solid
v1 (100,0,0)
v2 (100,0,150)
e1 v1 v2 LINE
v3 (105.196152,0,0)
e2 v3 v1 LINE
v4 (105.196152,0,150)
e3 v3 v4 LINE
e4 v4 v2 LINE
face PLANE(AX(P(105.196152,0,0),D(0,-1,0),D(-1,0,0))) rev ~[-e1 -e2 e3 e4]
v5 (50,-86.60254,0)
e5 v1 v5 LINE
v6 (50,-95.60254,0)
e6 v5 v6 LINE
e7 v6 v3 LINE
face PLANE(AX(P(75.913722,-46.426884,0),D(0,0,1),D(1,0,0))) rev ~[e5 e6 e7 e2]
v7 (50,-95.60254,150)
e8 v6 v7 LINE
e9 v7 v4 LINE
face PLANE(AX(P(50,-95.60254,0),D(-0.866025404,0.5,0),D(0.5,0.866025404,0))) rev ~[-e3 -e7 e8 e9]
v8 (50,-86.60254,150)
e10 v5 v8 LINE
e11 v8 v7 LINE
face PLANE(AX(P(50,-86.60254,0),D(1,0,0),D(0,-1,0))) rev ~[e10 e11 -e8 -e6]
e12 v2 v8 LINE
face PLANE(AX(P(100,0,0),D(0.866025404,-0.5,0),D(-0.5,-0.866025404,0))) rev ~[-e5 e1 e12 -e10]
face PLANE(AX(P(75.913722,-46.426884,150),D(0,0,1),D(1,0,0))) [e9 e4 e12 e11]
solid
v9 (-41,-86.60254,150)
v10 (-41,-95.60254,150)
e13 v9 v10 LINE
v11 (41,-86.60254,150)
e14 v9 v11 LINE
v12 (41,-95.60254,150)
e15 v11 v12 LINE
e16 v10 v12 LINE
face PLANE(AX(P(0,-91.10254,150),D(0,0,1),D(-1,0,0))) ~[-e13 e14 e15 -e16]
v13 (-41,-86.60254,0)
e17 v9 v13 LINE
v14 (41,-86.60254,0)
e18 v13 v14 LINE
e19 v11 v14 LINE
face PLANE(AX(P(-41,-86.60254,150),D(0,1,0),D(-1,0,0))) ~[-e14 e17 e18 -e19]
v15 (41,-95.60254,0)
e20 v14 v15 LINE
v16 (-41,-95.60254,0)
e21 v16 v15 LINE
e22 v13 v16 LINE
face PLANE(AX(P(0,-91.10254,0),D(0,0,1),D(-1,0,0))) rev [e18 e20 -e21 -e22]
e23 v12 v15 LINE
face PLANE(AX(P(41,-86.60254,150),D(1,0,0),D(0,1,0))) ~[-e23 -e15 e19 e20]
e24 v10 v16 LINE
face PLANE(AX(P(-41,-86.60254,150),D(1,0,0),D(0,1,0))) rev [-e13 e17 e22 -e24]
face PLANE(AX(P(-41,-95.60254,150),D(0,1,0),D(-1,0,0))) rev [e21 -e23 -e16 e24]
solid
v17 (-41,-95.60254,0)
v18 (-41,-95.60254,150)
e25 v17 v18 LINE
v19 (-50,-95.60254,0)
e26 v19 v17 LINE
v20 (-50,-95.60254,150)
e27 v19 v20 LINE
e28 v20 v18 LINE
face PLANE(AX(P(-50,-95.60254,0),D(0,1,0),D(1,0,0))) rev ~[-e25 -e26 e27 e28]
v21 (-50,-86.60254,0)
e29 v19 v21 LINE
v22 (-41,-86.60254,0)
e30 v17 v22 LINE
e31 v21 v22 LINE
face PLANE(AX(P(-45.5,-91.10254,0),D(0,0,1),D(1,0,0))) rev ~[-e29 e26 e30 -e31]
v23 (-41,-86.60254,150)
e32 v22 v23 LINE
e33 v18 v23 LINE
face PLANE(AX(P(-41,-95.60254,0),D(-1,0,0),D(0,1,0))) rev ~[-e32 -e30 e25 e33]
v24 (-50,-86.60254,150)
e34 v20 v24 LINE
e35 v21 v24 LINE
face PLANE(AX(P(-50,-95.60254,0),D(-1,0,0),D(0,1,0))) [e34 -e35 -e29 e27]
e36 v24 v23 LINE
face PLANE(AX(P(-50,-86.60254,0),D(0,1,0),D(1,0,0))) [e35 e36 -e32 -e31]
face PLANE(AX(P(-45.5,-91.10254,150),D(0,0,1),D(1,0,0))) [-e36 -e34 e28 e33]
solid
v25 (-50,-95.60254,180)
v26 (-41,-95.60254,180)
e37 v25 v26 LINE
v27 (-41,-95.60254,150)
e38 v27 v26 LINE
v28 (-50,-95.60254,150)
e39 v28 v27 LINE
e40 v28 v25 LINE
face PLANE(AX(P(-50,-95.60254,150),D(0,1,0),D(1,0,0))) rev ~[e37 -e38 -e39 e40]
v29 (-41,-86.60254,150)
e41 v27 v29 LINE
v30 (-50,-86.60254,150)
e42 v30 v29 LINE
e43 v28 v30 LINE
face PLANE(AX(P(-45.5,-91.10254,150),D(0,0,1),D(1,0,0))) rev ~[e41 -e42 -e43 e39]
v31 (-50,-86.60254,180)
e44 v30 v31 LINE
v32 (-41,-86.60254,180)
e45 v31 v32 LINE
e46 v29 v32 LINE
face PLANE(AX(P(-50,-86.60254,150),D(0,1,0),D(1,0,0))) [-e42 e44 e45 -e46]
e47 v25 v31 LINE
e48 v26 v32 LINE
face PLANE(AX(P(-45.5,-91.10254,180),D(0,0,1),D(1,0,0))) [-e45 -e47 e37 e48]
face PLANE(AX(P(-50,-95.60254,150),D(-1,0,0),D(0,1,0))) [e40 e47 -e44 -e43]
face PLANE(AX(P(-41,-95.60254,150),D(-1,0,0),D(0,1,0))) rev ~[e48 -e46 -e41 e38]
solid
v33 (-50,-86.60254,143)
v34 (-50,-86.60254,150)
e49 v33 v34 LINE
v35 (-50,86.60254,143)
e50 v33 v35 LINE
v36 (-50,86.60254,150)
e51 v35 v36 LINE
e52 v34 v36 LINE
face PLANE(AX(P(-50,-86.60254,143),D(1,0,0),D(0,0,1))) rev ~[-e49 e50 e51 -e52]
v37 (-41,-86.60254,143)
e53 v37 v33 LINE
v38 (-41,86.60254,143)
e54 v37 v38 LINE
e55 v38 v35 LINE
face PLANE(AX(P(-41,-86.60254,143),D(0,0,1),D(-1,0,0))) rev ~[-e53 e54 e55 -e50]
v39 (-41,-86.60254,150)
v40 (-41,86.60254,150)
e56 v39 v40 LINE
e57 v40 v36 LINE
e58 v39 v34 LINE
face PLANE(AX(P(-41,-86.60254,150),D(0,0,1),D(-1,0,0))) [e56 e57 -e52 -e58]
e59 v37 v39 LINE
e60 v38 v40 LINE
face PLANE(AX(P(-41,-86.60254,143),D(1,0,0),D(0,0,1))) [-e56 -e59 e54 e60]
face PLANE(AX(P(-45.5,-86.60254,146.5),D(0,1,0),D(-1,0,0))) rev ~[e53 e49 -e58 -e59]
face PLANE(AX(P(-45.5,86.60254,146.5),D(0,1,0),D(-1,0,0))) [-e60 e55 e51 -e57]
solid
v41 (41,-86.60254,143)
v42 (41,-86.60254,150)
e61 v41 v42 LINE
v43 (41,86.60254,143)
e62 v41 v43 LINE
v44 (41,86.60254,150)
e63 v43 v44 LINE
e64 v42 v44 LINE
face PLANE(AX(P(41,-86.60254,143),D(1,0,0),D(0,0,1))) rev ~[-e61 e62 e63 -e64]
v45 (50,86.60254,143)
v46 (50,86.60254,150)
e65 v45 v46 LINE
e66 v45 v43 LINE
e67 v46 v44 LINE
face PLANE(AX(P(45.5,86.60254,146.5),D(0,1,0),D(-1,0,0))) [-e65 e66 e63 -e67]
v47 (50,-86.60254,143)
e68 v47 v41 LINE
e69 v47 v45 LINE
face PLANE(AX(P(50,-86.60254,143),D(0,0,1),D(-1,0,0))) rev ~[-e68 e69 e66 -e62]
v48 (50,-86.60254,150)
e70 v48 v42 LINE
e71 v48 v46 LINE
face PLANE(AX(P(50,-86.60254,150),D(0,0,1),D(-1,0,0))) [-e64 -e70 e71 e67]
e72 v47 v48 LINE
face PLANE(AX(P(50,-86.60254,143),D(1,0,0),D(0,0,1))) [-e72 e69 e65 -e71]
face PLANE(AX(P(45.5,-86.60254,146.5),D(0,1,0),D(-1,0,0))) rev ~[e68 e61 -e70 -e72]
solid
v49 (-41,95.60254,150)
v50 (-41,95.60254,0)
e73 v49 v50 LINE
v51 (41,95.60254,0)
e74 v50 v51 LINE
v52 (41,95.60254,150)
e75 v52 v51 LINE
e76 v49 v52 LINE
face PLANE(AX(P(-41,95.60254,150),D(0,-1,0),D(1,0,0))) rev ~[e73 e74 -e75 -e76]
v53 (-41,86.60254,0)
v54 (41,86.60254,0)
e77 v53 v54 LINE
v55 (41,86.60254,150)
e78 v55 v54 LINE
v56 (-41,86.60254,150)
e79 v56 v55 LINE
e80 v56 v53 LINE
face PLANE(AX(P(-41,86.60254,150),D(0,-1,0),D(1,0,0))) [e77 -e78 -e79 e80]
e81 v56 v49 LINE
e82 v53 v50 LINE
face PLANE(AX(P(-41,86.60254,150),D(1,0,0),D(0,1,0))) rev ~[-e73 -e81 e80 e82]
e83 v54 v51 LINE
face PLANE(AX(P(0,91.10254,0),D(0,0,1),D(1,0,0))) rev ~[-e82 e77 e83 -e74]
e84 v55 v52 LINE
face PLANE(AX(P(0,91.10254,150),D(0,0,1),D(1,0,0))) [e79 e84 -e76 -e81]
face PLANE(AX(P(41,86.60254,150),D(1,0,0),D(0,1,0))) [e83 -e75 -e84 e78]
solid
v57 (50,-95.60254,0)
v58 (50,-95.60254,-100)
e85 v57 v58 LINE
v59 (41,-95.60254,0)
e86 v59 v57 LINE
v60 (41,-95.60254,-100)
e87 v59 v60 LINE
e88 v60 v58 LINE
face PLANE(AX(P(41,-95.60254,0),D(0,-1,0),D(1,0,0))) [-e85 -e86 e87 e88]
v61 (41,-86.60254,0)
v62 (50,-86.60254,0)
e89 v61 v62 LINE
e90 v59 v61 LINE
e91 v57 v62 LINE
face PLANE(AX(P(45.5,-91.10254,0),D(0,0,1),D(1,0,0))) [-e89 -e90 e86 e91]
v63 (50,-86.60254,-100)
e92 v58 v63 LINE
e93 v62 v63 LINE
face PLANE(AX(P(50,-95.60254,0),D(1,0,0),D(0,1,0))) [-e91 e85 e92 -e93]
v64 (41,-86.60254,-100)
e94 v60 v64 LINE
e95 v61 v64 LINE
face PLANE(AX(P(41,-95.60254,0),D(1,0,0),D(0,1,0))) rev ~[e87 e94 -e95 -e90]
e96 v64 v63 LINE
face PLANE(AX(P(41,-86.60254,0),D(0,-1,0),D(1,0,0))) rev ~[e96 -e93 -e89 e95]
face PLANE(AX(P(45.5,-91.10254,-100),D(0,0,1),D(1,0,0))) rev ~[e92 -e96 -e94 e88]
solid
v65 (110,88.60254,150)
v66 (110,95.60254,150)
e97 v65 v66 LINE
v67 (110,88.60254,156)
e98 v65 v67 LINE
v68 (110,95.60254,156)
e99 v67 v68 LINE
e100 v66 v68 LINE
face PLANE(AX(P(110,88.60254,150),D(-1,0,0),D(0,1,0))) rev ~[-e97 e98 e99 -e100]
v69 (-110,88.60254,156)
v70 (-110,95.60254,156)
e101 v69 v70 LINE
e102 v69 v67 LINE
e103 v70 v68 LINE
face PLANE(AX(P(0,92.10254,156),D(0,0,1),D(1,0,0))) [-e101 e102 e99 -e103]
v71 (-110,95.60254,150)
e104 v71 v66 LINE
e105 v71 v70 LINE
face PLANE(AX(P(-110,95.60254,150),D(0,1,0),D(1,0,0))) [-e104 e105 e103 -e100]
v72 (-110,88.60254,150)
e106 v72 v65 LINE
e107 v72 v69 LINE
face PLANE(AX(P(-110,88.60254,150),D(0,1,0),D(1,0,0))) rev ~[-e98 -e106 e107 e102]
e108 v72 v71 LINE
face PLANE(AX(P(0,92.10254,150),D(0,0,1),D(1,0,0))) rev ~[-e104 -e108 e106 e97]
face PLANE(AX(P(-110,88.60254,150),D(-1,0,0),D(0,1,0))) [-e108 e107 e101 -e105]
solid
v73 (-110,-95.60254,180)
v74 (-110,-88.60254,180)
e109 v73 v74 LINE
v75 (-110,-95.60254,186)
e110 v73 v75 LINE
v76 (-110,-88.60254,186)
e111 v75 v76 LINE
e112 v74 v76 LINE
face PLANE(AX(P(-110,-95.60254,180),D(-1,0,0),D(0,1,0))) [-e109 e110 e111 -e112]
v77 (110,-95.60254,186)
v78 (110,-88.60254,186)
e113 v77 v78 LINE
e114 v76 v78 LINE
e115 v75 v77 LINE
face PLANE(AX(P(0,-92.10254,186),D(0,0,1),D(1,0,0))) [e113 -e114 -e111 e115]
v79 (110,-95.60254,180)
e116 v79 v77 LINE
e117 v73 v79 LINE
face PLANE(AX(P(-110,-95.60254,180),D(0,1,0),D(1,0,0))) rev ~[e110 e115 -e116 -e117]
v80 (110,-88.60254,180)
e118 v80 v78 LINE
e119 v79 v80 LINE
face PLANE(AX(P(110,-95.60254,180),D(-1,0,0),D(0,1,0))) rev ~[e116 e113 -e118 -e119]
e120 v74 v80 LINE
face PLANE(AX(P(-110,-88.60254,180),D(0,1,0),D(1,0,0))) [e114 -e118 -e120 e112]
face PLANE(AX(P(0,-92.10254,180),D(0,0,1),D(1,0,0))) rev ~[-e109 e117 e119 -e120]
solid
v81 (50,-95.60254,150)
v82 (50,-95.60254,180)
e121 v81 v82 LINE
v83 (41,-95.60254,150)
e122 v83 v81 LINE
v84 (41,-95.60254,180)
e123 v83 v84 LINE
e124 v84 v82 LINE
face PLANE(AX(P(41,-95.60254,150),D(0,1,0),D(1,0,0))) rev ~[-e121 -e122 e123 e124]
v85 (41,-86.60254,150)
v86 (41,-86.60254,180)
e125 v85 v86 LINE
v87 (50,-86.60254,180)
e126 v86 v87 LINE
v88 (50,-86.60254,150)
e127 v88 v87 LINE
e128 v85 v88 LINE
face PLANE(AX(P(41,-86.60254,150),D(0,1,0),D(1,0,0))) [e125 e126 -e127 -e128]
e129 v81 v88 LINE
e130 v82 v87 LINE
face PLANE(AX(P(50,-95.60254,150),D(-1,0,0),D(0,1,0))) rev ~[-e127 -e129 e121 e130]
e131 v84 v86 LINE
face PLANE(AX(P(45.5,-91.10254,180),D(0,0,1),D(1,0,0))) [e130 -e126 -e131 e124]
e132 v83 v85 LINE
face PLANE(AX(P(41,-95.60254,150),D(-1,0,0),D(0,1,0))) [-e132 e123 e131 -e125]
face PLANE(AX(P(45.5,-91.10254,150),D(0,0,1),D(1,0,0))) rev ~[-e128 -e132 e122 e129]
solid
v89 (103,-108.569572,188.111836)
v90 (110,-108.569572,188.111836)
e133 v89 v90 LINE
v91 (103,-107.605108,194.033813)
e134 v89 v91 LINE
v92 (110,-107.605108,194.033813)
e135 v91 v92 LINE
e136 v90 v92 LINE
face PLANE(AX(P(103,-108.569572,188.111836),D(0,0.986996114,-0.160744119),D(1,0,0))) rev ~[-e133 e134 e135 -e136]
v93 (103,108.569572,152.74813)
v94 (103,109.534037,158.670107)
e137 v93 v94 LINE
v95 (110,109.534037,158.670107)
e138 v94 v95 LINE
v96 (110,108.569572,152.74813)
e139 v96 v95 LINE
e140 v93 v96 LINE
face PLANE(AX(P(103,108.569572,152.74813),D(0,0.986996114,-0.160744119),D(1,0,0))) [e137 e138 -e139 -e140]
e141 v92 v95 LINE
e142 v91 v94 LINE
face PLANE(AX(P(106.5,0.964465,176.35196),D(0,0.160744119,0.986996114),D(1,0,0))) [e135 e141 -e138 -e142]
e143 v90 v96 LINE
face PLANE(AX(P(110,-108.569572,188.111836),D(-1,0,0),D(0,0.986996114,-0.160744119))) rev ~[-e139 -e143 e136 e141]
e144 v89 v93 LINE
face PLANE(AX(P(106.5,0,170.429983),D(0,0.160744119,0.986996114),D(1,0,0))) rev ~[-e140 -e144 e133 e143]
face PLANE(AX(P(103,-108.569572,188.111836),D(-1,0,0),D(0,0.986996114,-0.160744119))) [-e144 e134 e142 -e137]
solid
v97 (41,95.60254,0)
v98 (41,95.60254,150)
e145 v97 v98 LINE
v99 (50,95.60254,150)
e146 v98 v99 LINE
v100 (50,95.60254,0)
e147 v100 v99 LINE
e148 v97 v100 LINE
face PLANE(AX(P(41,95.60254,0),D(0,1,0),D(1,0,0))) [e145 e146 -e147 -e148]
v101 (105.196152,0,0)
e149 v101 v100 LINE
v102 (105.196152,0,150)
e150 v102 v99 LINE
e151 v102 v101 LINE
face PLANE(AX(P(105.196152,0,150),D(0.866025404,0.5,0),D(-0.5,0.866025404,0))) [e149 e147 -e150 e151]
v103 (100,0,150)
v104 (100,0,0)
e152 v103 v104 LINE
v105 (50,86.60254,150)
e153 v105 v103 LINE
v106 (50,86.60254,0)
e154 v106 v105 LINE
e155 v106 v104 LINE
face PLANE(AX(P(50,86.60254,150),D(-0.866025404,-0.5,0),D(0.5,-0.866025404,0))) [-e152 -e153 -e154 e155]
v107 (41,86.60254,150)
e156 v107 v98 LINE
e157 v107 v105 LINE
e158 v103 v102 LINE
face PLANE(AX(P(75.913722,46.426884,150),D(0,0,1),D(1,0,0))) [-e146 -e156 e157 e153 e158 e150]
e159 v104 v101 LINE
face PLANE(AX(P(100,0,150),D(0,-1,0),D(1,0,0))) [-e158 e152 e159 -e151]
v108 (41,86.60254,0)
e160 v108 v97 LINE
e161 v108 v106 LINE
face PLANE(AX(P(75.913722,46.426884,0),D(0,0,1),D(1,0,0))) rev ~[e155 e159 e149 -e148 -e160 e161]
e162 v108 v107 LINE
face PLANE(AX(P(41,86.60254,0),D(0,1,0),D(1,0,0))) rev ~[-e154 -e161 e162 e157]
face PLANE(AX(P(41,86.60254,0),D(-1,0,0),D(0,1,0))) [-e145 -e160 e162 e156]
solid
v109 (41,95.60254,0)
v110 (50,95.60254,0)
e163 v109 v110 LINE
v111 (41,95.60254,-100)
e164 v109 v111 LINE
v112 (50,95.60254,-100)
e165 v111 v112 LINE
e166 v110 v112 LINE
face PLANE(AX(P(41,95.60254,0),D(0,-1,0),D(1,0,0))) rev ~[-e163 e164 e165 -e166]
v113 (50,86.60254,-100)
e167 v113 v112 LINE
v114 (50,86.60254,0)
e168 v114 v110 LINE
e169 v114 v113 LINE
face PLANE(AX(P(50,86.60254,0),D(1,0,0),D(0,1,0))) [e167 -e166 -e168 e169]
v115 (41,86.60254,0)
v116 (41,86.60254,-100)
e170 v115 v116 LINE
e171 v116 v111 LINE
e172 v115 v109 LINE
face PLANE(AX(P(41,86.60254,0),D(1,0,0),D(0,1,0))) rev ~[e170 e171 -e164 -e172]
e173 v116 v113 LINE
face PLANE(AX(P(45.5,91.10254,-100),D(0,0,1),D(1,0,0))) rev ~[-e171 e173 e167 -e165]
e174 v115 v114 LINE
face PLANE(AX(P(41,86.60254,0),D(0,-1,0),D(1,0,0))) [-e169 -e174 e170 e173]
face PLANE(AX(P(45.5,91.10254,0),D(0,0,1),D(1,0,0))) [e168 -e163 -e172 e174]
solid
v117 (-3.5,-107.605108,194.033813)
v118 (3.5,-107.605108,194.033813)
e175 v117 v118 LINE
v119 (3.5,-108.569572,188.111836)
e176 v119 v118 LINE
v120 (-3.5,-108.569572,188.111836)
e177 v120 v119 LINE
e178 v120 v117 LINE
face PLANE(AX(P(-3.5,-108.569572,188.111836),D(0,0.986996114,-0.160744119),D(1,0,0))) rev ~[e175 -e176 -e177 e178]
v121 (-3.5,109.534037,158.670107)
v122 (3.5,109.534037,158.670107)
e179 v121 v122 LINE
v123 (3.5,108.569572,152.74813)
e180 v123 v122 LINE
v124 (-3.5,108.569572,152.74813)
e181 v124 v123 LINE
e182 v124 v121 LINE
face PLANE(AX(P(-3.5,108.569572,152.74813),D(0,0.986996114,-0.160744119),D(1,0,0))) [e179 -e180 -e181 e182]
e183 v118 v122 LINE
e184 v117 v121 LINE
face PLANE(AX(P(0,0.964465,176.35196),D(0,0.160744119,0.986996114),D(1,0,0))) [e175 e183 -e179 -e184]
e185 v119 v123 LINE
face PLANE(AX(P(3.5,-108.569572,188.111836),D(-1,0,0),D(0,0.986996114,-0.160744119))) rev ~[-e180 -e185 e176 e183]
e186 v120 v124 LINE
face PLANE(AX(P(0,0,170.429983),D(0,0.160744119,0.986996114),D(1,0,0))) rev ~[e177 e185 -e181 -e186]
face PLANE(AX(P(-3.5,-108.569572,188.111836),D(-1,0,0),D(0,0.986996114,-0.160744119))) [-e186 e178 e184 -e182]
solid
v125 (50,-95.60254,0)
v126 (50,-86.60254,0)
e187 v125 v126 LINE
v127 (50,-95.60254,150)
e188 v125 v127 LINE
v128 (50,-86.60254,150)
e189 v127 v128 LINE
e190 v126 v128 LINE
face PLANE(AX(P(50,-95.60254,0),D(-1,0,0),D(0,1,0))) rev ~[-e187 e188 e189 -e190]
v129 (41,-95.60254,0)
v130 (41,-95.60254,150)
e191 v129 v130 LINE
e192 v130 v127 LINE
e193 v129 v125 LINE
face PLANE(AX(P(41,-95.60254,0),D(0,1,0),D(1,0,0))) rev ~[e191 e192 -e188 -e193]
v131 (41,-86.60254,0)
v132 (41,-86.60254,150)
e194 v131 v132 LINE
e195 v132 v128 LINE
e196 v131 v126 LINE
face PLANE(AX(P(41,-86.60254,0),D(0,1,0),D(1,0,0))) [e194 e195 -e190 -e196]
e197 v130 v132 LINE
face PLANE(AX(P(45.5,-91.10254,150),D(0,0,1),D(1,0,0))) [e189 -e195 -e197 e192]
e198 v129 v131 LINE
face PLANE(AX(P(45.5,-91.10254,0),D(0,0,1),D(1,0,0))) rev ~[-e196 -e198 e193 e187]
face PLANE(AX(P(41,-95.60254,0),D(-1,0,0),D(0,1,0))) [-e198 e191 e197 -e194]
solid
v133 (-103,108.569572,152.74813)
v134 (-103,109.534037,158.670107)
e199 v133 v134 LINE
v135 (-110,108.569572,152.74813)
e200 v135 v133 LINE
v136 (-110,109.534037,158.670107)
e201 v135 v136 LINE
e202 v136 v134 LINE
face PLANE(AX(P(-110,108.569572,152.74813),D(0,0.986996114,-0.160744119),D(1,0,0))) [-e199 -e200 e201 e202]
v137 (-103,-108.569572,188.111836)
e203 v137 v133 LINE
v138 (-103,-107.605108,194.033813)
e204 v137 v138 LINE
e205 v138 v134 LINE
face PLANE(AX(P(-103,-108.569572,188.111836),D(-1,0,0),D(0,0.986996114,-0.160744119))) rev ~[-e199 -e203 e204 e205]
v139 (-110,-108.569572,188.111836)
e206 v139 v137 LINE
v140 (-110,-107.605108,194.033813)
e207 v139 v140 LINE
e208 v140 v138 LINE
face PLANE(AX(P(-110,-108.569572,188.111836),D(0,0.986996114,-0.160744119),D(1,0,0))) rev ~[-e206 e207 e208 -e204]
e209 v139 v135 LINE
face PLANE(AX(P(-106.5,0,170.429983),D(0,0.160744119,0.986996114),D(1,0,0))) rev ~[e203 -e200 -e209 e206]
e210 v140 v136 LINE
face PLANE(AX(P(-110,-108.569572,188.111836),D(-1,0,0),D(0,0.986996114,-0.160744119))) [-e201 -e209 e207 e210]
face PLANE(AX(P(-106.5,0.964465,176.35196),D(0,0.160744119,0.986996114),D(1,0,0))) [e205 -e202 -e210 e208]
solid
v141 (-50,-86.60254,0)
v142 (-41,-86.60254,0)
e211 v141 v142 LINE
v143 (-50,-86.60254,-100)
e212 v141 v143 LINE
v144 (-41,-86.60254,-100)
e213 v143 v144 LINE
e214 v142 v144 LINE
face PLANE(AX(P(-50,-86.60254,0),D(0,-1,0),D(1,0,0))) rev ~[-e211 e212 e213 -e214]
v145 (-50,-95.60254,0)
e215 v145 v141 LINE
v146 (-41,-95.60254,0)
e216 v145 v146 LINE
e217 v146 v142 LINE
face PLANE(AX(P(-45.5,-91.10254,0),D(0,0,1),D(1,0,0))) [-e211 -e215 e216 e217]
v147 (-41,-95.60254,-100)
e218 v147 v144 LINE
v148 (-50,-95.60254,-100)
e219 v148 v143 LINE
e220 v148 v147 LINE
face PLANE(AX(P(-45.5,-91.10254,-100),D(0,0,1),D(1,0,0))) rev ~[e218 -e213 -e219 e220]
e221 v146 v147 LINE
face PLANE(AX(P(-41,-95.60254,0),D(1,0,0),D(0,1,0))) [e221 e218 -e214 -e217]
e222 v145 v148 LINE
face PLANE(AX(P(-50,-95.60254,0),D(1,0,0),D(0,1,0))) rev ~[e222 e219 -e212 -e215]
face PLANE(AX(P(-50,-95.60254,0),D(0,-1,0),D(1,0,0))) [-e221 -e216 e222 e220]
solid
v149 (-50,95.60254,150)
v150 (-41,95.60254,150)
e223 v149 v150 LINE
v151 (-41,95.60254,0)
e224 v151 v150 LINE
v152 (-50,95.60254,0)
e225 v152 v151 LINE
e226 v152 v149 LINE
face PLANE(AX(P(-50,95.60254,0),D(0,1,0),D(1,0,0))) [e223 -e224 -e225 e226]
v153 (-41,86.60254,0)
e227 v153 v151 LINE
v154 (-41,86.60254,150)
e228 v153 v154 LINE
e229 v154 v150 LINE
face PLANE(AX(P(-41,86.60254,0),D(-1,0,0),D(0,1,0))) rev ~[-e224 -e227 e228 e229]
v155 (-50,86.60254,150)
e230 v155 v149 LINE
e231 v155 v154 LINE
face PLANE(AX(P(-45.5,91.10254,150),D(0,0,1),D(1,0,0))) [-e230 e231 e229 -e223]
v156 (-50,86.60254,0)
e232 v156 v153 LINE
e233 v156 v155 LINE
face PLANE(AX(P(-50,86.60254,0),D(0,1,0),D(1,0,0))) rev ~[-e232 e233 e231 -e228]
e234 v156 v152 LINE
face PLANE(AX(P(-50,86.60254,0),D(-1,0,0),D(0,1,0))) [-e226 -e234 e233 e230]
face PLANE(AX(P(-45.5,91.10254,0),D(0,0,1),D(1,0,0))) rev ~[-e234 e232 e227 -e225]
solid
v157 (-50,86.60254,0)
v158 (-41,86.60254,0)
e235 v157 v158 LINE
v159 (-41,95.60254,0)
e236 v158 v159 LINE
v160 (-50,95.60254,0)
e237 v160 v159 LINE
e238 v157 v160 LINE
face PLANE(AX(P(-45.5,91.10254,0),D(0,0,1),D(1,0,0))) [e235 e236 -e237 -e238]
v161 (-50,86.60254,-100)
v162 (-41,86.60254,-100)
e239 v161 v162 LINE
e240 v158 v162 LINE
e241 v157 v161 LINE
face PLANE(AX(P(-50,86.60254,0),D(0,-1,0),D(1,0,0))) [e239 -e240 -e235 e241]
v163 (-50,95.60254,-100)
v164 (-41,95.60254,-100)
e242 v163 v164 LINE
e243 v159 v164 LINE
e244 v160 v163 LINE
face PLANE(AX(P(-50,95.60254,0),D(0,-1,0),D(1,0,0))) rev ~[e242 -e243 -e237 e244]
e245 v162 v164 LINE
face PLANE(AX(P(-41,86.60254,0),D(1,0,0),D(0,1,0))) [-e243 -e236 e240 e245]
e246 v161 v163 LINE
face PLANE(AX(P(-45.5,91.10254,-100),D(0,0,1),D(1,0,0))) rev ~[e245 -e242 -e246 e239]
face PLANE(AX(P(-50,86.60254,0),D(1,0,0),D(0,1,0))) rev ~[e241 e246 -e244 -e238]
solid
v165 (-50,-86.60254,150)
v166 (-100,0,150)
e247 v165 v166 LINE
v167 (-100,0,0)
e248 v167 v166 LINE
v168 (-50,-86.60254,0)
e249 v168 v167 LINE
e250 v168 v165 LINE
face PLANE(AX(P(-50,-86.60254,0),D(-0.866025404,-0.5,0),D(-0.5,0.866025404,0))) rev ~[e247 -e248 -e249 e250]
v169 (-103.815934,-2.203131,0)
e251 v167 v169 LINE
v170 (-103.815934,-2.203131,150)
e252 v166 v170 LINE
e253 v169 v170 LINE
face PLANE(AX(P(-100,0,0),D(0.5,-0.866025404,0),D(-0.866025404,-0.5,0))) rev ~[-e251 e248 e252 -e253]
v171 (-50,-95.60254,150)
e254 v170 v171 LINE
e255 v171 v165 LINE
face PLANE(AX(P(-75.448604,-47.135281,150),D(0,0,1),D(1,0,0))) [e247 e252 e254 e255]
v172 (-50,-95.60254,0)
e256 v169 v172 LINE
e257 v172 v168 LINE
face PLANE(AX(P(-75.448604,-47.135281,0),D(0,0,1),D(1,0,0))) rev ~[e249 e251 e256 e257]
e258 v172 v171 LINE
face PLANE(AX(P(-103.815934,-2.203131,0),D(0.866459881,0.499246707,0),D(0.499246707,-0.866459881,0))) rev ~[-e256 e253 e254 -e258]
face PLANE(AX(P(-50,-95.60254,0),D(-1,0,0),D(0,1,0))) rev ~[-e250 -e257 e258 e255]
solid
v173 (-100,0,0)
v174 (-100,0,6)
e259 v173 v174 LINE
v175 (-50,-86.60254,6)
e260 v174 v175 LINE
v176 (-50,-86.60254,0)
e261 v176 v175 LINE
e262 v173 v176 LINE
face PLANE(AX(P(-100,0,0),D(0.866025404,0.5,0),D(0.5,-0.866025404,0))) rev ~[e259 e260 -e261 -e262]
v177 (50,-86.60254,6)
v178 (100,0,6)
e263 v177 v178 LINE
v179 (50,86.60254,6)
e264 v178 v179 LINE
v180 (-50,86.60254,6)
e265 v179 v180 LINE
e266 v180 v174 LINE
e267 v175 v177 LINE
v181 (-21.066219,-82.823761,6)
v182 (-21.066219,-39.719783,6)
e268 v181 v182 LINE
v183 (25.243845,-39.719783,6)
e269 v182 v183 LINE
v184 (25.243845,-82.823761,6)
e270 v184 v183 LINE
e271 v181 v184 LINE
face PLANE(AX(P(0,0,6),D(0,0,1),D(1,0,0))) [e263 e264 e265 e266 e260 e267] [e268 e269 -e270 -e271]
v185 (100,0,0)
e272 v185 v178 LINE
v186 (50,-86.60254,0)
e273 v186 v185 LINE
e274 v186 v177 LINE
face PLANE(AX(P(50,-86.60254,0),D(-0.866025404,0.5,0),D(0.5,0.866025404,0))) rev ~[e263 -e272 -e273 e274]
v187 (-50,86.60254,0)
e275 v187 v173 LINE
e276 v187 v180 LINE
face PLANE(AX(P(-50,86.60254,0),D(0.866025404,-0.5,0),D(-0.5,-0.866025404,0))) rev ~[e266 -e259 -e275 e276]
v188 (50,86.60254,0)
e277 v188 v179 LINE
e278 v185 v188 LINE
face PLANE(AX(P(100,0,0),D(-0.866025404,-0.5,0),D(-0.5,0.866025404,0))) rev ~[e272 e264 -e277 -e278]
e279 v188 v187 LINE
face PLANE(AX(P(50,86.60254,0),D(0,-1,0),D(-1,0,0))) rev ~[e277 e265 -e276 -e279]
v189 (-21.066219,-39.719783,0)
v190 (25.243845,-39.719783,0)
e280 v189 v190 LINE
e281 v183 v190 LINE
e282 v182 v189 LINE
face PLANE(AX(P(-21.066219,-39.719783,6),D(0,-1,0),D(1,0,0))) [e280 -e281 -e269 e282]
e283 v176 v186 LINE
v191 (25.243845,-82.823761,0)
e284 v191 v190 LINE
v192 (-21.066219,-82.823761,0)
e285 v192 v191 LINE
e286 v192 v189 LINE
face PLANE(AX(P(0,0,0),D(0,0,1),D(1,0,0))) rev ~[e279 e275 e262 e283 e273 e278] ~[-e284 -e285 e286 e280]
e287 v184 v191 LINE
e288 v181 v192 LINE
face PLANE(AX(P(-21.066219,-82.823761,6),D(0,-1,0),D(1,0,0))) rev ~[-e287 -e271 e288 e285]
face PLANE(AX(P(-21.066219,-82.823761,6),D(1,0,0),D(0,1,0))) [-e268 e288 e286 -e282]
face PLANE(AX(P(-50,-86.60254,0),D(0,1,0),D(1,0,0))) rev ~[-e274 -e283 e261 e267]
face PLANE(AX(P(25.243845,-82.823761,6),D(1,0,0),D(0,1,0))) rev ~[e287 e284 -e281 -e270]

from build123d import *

# Parameters (mm, degrees)
F1_DEPTH  = 6
F2_W      = 9
F2_H      = 9
F3_DEPTH  = 150
F5_W      = 82
F5_H      = 9
F6_DEPTH  = 150
F8_DEPTH  = 100
F10_DEPTH = 150
F12_W     = 46.3100634515
F12_H     = 43.1039780378
F13_DEPTH = 6
F16_DEPTH = 150
F17_DEPTH = 150
F18_W     = 9
F18_H     = 7
F19_DEPTH = 173.2050807569
F20_W     = 220
F20_H     = 7
F21_DEPTH = 6
F22_W     = 9
F22_H     = 9
F23_DEPTH = 30
F24_W     = 220
F24_H     = 7
F25_DEPTH = 6
F27_W     = 7
F27_H     = 220
F28_DEPTH = 6


with BuildPart() as f1:
    # F0 (on Top) → F1 (new body)
    with BuildSketch(Plane.XY):
        Polygon((100, 0), (50, 86.6025403784), (-50, 86.6025403784), (-100, 0), (-50, -86.6025403784), (50, -86.6025403784), align=None)
    extrude(amount=F1_DEPTH)

    # F12 (on face) → F13 (cut, through all)
    with BuildSketch(Plane.XY.offset(6)):
        with Locations((2.0888131112, -61.2717717886)):
            Rectangle(F12_W, F12_H)
    extrude(amount=-F13_DEPTH, mode=Mode.SUBTRACT)


with BuildPart() as f3:
    # F2 (on Top) → F3 (new body)
    with BuildSketch(Plane.XY):
        with Locations((-45.5, 91.1025403784)):
            Rectangle(F2_W, F2_H)
    extrude(amount=F3_DEPTH)


with BuildPart() as f3b:
    # F2 (on Top) → F3, piece 2 (new body)
    with BuildSketch(Plane.XY):
        with Locations((45.5, 91.1025403784)):
            Rectangle(F2_W, F2_H)
    extrude(amount=F3_DEPTH)

    # F9 (on offset) → F10 (join)
    with BuildSketch(Plane.XY.offset(150)):
        Polygon((50, 95.6025403784), (50, 86.6025403784), (100, 0), (105.1961524227, 0), align=None)
    extrude(amount=-F10_DEPTH)


with BuildPart() as f3c:
    # F2 (on Top) → F3, piece 3 (new body)
    with BuildSketch(Plane.XY):
        with Locations((-45.5, -91.1025403784)):
            Rectangle(F2_W, F2_H)
    extrude(amount=F3_DEPTH)


with BuildPart() as f3d:
    # F2 (on Top) → F3, piece 4 (new body)
    with BuildSketch(Plane.XY):
        with Locations((45.5, -91.1025403784)):
            Rectangle(F2_W, F2_H)
    extrude(amount=F3_DEPTH)


with BuildPart() as f6:
    # F5 (on offset) → F6 (new body)
    with BuildSketch(Plane.XY.offset(150)):
        with Locations((0, 91.1025403784)):
            Rectangle(F5_W, F5_H)
    extrude(amount=-F6_DEPTH)


with BuildPart() as f7_1:
    # F7: instance of F6
    add(f6.part.mirror(Plane.XZ))


with BuildPart() as f8:
    # F2 (on Top) → F8 (new body)
    with BuildSketch(Plane.XY):
        with Locations((-45.5, 91.1025403784)):
            Rectangle(F2_W, F2_H)
    extrude(amount=-F8_DEPTH)


with BuildPart() as f8b:
    # F2 (on Top) → F8, piece 2 (new body)
    with BuildSketch(Plane.XY):
        with Locations((45.5, 91.1025403784)):
            Rectangle(F2_W, F2_H)
    extrude(amount=-F8_DEPTH)


with BuildPart() as f8c:
    # F2 (on Top) → F8, piece 3 (new body)
    with BuildSketch(Plane.XY):
        with Locations((-45.5, -91.1025403784)):
            Rectangle(F2_W, F2_H)
    extrude(amount=-F8_DEPTH)


with BuildPart() as f8d:
    # F2 (on Top) → F8, piece 4 (new body)
    with BuildSketch(Plane.XY):
        with Locations((45.5, -91.1025403784)):
            Rectangle(F2_W, F2_H)
    extrude(amount=-F8_DEPTH)


with BuildPart() as f16:
    # F14 (on Top) → F16 (new body)
    with BuildSketch(Plane.XY):
        Polygon((105.1961524227, 0), (100, 0), (50, -86.6025403784), (50, -95.6025403784), align=None)
    extrude(amount=F16_DEPTH)


with BuildPart() as f17:
    # F15 (on Top) → F17 (new body)
    with BuildSketch(Plane.XY):
        Polygon((-100, 0), (-103.8159340531, -2.2031305528), (-50, -95.6025403784), (-50, -86.6025403784), align=None)
    extrude(amount=F17_DEPTH)


with BuildPart() as f19:
    # F18 (on face) → F19 (new body, through all)
    with BuildSketch(Plane(origin=(0, -86.6025403784, 0), x_dir=(-1, 0, 0), z_dir=(0, 1, 0))):
        with Locations((45.5, 146.5)):
            Rectangle(F18_W, F18_H)
    extrude(amount=F19_DEPTH)


with BuildPart() as f19b:
    # F18 (on face) → F19, piece 2 (new body, through all)
    with BuildSketch(Plane(origin=(0, -86.6025403784, 0), x_dir=(-1, 0, 0), z_dir=(0, 1, 0))):
        with Locations((-45.5, 146.5)):
            Rectangle(F18_W, F18_H)
    extrude(amount=F19_DEPTH)


with BuildPart() as f21:
    # F20 (on face) → F21 (new body)
    with BuildSketch(Plane.XY.offset(150)):
        with Locations((0, 92.1025403784)):
            Rectangle(F20_W, F20_H)
    extrude(amount=F21_DEPTH)


with BuildPart() as f23:
    # F22 (on face) → F23 (new body)
    with BuildSketch(Plane.XY.offset(150)):
        with Locations((45.5, -91.1025403784)):
            Rectangle(F22_W, F22_H)
    extrude(amount=F23_DEPTH)


with BuildPart() as f23b:
    # F22 (on face) → F23, piece 2 (new body)
    with BuildSketch(Plane.XY.offset(150)):
        with Locations((-45.5, -91.1025403784)):
            Rectangle(F22_W, F22_H)
    extrude(amount=F23_DEPTH)


with BuildPart() as f25:
    # F24 (on face) → F25 (new body)
    with BuildSketch(Plane.XY.offset(180)):
        with Locations((0, -92.1025403784)):
            Rectangle(F24_W, F24_H)
    extrude(amount=F25_DEPTH)


with BuildPart() as f28:
    # F27 (on 3pt) → F28 (new body)
    with BuildSketch(Plane(origin=(0, 27.0393679816, 166.0262987553), x_dir=(1, 0, 0), z_dir=(0, 0.1607441189, 0.9869961136))):
        with Locations((-106.5, -27.3956174795)):
            Rectangle(F27_W, F27_H)
    extrude(amount=F28_DEPTH)


with BuildPart() as f28b:
    # F27 (on 3pt) → F28, piece 2 (new body)
    with BuildSketch(Plane(origin=(0, 27.0393679816, 166.0262987553), x_dir=(1, 0, 0), z_dir=(0, 0.1607441189, 0.9869961136))):
        with Locations((0, -27.3956174795)):
            Rectangle(F27_W, F27_H)
    extrude(amount=F28_DEPTH)


with BuildPart() as f28c:
    # F27 (on 3pt) → F28, piece 3 (new body)
    with BuildSketch(Plane(origin=(0, 27.0393679816, 166.0262987553), x_dir=(1, 0, 0), z_dir=(0, 0.1607441189, 0.9869961136))):
        with Locations((106.5, -27.3956174795)):
            Rectangle(F27_W, F27_H)
    extrude(amount=F28_DEPTH)


solid = Compound([f1.part, f3.part, f3b.part, f3c.part, f3d.part, f6.part, f7_1.part, f8.part, f8b.part, f8c.part, f8d.part, f16.part, f17.part, f19.part, f19b.part, f21.part, f23.part, f23b.part, f25.part, f28.part, f28b.part, f28c.part])
